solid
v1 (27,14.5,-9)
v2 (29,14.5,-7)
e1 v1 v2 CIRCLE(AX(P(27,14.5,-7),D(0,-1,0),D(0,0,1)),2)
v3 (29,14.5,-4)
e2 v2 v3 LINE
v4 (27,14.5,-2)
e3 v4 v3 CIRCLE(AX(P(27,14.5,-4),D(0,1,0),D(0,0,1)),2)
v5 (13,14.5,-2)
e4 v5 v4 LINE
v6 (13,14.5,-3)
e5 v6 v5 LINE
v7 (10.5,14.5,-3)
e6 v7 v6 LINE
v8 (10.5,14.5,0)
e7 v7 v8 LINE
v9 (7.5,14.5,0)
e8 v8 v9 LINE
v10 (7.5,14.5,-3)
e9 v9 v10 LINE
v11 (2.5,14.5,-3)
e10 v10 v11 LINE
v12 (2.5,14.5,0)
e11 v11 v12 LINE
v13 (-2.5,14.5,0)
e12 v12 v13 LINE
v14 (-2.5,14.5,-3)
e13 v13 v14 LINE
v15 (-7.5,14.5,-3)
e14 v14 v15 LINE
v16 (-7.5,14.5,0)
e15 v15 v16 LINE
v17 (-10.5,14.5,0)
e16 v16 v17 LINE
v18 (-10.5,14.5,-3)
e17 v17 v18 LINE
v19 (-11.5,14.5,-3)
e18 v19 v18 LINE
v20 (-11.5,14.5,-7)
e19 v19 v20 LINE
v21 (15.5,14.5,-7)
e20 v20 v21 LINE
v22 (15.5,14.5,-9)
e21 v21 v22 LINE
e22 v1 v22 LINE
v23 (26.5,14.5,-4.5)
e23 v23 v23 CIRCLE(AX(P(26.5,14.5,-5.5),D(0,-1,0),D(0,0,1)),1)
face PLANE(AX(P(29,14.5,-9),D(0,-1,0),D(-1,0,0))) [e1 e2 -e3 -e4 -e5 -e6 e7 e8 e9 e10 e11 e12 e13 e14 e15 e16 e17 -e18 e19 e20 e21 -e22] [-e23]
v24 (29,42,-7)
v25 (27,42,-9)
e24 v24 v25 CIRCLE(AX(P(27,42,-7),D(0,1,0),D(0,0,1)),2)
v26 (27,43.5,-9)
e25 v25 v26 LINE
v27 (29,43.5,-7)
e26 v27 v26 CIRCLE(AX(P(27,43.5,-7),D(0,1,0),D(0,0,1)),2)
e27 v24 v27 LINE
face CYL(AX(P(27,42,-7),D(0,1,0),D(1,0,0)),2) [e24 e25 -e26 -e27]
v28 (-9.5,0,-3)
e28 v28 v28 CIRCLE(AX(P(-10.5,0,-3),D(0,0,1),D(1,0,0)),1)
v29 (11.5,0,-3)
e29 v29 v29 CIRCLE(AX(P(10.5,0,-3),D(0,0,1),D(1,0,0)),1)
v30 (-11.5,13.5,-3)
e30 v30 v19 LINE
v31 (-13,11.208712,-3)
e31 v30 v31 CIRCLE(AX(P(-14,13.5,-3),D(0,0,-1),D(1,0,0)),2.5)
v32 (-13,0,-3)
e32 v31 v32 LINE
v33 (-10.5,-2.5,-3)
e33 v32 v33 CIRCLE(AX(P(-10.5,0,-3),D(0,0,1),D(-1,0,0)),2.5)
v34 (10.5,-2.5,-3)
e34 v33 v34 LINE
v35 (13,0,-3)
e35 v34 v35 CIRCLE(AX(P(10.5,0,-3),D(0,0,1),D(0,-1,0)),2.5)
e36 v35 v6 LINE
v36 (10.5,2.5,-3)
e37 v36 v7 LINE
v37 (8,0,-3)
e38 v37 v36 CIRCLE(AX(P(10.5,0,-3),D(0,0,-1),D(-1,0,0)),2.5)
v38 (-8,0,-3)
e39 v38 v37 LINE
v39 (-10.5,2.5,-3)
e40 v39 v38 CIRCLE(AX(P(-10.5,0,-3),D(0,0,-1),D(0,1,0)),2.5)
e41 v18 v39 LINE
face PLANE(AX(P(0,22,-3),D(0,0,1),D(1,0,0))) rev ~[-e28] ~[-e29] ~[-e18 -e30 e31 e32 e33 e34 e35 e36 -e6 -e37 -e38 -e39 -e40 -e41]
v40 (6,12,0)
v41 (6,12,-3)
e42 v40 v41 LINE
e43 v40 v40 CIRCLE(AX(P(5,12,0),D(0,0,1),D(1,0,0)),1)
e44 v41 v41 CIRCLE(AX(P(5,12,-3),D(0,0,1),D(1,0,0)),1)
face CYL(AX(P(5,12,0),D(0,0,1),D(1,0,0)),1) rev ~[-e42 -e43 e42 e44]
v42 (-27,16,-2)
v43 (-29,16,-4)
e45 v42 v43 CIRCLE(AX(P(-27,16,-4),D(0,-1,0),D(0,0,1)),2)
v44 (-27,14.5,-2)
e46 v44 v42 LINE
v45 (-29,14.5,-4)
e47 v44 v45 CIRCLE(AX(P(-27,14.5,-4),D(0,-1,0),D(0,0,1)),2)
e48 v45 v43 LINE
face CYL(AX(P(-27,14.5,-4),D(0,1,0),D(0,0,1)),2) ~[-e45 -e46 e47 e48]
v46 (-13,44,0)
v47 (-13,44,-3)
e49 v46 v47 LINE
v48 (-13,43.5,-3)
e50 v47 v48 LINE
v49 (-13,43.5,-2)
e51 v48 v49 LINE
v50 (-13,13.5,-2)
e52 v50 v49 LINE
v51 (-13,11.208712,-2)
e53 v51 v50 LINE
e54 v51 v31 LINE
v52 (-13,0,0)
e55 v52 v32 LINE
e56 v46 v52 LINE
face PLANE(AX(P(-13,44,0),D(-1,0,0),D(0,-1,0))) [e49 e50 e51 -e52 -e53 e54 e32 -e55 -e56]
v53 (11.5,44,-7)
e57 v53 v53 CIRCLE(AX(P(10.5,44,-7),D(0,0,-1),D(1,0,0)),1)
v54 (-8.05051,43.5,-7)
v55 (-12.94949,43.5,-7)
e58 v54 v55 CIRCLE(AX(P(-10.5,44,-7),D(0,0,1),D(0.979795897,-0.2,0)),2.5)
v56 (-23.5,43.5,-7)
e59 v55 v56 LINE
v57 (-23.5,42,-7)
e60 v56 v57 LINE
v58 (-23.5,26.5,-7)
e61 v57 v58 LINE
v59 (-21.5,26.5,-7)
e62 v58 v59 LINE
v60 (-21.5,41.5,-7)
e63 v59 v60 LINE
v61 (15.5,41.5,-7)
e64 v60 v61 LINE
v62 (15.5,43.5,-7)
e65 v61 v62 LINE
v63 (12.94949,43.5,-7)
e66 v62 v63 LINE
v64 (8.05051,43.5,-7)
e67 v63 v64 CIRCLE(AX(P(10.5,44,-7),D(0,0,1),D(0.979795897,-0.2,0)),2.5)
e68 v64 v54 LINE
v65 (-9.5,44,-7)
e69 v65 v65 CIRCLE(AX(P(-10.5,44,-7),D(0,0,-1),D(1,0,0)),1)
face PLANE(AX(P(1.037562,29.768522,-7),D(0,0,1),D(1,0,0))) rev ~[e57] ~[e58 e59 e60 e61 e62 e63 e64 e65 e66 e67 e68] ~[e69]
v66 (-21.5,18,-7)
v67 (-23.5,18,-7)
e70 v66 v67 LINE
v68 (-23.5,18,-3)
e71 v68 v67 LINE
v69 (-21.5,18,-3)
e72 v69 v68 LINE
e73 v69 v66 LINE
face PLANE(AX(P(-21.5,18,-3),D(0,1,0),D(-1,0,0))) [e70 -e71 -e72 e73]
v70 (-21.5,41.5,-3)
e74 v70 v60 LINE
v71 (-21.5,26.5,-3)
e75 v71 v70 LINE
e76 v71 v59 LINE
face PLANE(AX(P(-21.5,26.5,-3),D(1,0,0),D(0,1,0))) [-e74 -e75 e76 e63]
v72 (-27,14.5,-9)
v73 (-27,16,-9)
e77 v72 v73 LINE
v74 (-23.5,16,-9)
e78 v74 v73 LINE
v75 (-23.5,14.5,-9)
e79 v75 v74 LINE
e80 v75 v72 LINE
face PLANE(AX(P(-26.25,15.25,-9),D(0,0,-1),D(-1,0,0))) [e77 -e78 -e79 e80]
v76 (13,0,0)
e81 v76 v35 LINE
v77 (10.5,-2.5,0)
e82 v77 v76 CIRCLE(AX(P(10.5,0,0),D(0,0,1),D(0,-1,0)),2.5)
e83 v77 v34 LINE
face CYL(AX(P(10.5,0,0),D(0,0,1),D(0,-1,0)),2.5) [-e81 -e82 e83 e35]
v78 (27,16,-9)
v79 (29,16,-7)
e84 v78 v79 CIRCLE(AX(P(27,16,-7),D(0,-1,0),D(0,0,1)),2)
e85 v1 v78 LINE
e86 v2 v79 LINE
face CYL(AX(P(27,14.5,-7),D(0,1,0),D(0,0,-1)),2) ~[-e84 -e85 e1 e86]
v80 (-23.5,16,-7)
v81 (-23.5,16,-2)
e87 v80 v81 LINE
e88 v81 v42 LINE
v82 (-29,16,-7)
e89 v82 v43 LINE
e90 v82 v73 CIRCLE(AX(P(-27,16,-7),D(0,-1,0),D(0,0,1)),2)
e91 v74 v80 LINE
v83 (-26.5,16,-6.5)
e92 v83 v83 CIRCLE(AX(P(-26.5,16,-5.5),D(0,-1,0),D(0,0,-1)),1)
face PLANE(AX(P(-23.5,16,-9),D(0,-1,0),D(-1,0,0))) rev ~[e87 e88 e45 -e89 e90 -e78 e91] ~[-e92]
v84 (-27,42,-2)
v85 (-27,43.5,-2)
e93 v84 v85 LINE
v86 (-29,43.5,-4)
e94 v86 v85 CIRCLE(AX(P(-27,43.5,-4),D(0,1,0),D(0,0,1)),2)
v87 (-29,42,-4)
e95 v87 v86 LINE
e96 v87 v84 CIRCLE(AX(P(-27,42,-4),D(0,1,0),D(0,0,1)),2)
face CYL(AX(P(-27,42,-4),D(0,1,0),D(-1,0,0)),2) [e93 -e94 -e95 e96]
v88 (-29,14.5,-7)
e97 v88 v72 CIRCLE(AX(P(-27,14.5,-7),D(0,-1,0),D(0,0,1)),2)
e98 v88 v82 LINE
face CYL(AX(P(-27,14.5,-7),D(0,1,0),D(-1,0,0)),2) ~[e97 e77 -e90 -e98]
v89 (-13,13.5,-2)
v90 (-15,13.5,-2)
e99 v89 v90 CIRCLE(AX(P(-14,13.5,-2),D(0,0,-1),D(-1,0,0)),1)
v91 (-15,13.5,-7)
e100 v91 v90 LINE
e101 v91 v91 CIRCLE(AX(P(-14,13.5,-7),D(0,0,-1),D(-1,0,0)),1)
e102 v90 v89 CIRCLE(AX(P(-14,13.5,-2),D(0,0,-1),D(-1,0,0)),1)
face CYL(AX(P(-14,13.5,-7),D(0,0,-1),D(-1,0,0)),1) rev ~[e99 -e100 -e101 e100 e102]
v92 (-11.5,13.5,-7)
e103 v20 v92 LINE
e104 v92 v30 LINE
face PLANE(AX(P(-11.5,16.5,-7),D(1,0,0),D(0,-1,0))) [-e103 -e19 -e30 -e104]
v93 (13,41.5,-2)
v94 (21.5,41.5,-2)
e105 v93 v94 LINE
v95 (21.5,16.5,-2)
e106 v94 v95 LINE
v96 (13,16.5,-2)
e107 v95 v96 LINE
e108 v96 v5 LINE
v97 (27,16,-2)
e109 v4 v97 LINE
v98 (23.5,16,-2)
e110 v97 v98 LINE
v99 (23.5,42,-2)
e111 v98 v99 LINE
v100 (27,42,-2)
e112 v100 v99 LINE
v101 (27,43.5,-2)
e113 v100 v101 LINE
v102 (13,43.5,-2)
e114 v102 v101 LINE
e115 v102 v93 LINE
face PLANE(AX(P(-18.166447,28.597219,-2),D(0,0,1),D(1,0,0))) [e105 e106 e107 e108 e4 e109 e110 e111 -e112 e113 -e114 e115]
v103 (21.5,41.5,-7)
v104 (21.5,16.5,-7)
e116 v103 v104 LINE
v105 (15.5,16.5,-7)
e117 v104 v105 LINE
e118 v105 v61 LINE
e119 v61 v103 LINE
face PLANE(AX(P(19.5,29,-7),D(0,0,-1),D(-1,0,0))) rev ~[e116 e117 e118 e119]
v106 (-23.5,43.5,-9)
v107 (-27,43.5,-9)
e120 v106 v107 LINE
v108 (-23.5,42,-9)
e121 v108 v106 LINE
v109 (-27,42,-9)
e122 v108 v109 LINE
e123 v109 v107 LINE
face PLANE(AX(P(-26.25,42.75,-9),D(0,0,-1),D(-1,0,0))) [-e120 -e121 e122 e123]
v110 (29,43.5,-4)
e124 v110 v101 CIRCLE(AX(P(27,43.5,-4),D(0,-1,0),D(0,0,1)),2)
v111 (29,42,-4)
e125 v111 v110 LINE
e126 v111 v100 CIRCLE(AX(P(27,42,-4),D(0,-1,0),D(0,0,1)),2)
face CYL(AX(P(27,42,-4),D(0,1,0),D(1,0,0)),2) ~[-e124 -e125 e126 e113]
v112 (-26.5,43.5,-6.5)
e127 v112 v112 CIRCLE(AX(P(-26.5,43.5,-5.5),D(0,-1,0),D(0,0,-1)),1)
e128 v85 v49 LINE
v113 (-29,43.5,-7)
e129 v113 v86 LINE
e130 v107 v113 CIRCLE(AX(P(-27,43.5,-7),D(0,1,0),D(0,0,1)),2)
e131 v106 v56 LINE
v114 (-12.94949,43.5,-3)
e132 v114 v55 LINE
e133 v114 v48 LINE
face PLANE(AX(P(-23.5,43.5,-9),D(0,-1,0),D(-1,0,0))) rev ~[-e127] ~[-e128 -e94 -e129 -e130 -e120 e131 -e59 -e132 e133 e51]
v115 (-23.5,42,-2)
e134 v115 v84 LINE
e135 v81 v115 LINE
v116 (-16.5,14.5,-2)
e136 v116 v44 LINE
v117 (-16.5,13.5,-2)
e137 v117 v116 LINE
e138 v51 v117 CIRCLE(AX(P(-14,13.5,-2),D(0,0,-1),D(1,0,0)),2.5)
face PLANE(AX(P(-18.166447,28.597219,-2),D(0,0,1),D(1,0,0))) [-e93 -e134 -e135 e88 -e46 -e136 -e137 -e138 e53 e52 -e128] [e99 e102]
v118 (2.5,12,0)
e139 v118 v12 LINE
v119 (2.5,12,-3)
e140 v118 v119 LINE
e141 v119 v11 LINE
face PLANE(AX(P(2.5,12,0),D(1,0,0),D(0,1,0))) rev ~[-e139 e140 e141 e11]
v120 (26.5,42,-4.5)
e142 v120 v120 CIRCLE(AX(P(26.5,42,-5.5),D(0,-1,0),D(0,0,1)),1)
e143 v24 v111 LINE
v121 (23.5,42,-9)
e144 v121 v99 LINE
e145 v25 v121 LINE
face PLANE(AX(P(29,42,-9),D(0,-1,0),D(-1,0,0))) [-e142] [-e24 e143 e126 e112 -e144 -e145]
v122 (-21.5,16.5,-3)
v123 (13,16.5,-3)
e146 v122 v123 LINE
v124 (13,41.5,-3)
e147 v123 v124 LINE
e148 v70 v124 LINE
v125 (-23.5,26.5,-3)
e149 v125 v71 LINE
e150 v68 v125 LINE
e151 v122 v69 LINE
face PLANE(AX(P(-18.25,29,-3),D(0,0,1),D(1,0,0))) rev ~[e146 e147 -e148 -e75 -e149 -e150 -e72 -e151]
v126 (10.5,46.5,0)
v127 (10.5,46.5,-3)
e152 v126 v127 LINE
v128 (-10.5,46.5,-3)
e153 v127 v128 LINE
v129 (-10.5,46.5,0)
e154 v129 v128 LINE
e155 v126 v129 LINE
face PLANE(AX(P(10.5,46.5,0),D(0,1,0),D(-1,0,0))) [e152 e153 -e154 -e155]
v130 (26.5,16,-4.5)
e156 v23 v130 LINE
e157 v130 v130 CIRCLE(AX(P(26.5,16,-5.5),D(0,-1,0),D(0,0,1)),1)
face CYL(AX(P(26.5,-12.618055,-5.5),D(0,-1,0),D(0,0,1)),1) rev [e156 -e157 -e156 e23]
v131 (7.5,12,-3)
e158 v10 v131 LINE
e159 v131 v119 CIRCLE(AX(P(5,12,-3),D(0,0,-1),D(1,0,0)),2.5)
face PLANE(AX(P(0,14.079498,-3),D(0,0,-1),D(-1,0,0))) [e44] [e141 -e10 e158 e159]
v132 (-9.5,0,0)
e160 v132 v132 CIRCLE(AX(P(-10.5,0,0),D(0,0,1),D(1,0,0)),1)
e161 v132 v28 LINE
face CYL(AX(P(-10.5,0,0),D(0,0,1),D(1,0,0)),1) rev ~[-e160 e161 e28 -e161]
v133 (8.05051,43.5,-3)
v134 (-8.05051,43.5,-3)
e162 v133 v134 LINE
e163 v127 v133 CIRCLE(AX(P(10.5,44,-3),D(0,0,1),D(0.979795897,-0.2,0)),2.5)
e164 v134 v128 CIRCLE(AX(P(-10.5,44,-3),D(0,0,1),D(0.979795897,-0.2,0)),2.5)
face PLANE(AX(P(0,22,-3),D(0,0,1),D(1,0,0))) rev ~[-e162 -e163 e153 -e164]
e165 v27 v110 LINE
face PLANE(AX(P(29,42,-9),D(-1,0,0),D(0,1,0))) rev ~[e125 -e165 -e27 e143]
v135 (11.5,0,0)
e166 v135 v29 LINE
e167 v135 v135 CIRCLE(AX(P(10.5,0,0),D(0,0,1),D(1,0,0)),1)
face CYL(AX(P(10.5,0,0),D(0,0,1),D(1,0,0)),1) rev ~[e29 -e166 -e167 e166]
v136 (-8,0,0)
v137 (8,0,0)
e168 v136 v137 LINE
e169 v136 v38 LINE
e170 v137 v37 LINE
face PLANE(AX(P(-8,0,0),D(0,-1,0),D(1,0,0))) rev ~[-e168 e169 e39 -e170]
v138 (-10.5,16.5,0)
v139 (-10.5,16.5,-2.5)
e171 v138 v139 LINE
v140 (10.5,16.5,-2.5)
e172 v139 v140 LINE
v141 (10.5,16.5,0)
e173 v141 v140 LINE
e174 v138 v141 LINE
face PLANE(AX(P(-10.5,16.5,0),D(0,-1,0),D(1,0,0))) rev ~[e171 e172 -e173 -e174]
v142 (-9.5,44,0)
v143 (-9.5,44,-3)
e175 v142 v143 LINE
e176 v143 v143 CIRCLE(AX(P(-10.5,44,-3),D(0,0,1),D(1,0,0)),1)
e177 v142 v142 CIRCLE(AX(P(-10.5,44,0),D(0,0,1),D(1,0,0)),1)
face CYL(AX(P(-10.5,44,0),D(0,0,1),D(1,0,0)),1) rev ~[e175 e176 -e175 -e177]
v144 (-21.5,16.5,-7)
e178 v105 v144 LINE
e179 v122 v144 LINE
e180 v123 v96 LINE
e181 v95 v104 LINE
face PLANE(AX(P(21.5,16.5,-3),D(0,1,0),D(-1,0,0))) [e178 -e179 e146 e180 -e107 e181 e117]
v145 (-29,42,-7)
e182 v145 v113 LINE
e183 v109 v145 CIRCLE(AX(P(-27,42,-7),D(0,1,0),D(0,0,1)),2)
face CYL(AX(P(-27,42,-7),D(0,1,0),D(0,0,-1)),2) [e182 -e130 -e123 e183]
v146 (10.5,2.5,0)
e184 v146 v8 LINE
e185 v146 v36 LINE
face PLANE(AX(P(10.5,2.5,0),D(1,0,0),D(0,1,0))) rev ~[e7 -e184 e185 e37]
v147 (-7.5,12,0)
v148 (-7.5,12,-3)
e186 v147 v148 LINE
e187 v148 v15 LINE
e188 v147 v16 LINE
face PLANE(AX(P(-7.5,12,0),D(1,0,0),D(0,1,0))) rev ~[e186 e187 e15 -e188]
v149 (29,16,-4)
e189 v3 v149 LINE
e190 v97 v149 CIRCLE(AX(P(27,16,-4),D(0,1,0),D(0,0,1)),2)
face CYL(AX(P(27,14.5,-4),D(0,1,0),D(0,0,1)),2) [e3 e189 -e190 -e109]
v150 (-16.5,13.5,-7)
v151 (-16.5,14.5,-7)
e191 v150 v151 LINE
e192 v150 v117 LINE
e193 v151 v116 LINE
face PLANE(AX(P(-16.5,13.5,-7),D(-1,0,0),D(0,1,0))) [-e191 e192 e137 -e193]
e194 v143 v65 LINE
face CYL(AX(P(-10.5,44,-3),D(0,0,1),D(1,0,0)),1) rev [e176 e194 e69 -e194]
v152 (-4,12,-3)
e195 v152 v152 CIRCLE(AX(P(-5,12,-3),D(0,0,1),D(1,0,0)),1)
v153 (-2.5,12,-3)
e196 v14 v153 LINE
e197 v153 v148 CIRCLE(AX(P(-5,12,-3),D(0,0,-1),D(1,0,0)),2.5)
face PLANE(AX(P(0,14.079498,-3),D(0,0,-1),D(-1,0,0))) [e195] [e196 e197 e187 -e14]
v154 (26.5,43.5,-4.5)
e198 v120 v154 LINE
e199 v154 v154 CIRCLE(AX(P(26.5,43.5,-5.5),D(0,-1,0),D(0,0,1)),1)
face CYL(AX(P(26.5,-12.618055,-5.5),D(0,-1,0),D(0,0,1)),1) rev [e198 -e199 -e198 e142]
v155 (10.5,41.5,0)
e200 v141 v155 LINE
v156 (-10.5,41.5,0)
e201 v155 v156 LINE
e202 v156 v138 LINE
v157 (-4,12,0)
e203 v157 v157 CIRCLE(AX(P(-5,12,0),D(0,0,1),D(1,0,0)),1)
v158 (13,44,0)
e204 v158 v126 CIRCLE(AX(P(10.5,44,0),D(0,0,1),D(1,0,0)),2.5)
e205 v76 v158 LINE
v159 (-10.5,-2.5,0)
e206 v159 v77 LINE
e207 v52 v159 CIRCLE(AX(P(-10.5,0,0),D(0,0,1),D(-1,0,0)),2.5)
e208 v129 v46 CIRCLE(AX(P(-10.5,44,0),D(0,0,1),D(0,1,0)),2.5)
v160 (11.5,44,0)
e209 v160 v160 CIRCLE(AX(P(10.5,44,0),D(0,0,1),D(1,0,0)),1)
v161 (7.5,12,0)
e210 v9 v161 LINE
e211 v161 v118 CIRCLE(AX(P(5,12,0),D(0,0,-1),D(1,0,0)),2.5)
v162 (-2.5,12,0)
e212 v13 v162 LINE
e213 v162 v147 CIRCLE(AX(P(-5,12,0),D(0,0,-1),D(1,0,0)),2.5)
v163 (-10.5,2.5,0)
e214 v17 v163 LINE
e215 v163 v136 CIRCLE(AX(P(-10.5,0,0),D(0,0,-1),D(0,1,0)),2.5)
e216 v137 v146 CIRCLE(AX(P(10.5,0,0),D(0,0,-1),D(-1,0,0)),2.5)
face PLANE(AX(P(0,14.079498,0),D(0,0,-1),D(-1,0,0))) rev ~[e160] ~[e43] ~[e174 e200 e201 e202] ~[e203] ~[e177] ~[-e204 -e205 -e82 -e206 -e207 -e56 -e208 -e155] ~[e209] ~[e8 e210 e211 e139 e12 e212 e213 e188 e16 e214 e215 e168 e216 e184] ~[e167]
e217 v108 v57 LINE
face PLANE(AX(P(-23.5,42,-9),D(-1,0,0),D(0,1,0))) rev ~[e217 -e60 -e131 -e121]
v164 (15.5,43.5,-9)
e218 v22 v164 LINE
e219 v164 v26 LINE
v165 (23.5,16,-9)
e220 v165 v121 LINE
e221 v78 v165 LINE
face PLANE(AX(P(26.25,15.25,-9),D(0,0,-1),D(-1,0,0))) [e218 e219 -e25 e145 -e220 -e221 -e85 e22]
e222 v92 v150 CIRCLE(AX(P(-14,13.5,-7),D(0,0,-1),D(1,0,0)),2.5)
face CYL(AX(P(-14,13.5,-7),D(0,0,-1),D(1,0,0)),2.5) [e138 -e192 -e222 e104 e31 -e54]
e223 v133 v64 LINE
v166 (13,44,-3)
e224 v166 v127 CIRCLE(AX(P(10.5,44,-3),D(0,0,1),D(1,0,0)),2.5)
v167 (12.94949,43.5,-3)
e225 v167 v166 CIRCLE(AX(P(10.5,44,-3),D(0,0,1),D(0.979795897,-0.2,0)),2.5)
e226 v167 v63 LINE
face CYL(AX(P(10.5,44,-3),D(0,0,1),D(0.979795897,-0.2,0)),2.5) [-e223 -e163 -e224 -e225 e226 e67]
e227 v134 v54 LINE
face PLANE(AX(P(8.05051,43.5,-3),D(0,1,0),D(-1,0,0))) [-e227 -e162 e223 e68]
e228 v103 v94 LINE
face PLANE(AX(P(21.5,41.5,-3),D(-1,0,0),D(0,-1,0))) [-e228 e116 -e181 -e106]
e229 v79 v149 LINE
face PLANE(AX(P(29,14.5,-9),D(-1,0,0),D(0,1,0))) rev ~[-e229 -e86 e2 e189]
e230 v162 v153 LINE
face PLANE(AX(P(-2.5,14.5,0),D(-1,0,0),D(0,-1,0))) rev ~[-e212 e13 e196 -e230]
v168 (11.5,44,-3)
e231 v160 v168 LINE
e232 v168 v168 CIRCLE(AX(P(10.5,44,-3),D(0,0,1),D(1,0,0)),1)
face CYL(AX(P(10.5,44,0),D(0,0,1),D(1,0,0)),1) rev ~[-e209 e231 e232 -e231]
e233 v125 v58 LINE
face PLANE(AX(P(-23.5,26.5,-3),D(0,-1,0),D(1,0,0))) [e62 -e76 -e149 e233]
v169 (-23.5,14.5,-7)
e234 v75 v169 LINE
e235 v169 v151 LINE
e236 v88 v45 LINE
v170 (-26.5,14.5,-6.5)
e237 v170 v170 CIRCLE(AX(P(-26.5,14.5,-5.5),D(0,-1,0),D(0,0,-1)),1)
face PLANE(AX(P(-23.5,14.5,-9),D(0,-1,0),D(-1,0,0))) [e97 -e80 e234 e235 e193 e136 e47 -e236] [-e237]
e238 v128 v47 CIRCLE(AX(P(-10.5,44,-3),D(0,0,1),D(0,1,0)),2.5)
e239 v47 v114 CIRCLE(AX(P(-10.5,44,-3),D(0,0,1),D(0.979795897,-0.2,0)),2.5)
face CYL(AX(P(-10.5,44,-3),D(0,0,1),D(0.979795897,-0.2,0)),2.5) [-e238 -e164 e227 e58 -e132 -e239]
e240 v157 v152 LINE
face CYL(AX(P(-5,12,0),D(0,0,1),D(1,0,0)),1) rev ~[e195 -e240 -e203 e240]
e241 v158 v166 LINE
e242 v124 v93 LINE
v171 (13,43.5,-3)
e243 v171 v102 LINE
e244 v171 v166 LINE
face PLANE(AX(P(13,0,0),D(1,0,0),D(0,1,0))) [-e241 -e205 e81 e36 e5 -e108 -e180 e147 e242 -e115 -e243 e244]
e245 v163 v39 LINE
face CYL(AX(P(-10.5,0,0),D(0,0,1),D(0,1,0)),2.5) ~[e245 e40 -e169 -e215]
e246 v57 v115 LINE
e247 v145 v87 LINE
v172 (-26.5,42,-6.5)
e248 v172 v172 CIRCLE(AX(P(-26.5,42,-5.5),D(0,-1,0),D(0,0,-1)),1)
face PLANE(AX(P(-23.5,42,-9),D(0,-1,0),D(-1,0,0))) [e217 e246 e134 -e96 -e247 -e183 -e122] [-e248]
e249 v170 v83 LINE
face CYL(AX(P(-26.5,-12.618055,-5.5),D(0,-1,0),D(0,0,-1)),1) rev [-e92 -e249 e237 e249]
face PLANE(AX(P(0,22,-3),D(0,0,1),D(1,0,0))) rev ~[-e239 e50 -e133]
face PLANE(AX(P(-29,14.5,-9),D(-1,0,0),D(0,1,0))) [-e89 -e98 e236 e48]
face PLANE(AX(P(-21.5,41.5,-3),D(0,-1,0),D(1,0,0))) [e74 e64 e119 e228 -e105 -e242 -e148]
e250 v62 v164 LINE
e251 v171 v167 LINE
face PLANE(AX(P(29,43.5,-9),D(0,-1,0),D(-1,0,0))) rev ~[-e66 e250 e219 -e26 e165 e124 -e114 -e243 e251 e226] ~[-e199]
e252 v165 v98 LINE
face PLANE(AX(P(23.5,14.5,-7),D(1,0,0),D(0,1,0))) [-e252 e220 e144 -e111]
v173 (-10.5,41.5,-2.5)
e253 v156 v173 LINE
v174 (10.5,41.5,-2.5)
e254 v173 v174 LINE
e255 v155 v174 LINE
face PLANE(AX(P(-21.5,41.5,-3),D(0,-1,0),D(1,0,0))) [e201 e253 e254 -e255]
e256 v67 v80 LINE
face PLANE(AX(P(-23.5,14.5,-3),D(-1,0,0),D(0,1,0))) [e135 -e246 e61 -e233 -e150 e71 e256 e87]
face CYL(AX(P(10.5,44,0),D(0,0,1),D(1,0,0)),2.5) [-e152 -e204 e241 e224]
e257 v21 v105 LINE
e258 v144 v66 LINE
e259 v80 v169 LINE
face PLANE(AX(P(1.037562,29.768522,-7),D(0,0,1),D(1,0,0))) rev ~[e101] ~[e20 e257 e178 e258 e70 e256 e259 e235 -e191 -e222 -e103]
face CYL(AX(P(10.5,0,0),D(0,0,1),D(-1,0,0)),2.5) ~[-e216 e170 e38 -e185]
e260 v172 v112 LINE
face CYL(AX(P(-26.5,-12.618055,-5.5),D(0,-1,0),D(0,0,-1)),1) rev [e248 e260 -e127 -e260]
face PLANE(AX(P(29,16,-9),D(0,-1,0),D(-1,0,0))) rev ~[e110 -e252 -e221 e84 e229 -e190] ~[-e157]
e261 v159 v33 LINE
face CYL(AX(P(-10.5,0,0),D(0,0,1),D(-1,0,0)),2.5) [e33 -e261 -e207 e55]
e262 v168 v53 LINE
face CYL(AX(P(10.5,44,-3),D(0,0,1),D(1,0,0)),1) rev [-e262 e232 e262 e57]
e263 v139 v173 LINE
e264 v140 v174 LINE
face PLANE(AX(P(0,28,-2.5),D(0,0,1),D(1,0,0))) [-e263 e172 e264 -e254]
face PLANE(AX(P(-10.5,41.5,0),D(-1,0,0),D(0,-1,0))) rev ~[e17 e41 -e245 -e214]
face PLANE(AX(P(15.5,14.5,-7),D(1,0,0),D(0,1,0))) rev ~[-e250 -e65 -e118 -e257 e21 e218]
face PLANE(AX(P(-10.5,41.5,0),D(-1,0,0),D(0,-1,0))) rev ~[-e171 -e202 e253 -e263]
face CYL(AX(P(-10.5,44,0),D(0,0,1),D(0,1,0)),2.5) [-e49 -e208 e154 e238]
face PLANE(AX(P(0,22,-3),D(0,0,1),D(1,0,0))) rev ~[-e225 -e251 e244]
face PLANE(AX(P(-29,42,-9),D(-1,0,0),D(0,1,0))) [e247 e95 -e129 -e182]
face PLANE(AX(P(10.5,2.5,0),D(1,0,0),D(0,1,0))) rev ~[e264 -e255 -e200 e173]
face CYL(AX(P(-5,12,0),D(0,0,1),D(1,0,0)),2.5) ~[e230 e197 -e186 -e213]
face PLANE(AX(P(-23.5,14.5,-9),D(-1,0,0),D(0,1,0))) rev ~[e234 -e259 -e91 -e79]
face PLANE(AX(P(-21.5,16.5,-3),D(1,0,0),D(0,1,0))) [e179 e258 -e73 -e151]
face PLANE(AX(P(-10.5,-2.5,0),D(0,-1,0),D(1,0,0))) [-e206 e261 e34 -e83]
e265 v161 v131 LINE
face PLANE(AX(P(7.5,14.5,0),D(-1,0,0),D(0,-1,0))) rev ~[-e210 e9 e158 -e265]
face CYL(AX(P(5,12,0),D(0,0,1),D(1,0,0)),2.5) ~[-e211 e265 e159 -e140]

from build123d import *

# Parameters (mm, degrees)
SKETCH1_R                        = 1
ESP_BRACKET_DEPTH                = 3
SKETCH2_R                        = 1
LORA_HOLDER_SIDES_DEPTH          = 4
SKETCH9_W                        = 21
SKETCH9_H                        = 27
LORA_BACKING_ADD_MPU_HOLE_DEPTH  = 0.5
SKETCH4_W                        = 8
SKETCH4_H                        = 29
LORA_CONNECTOR_COVER_DEPTH       = 2
SKETCH6_W                        = 10.5
SKETCH6_H                        = 29
OTHER_SIDE_LORA_COVER_DEPTH      = 1
LORA_CLAMP_THIRD_SCREWHOLE_REACH = 54.569
SKETCH7_R                        = 1
SKETCH10_R                       = 1
BAROMETER_MOUNT_DEPTH            = 3
ALL_TABS_EXTRUDE_SIDEWAYS_REACH  = 54.872
SKETCH11_W                       = 5.5
SKETCH11_H                       = 1.5
SCREWHOLE_CUT_DEPTH              = 56.118055118
SCREWHOLE_CUT_DEPTH_BACK         = 56.118055118
SKETCH14_R                       = 1
SCREWHOLE_TAB_FILLETS_R          = 2


with BuildPart() as part:
    # Sketch1 → ESP Bracket (new body)
    with BuildSketch(Plane.XY):
        with BuildLine():
            Line((-13, 44), (-13, 0))
            ThreePointArc((-13, 0), (-12.267766953, -1.767766953), (-10.5, -2.5))
            Line((-10.5, -2.5), (10.5, -2.5))
            ThreePointArc((10.5, -2.5), (12.267766953, -1.767766953), (13, 0))
            Line((13, 0), (13, 44))
            ThreePointArc((13, 44), (12.267766953, 45.767766953), (10.5, 46.5))
            Line((10.5, 46.5), (-10.5, 46.5))
            ThreePointArc((-10.5, 46.5), (-12.267766953, 45.767766953), (-13, 44))
        make_face()
        with Locations((-10.5, 44)):
            Circle(SKETCH1_R, mode=Mode.SUBTRACT)
        with Locations((10.5, 44)):
            Circle(SKETCH1_R, mode=Mode.SUBTRACT)
        with Locations((10.5, 0)):
            Circle(SKETCH1_R, mode=Mode.SUBTRACT)
        with Locations((-10.5, 0)):
            Circle(SKETCH1_R, mode=Mode.SUBTRACT)
        with BuildLine():
            Line((-10.5, 41.5), (-10.5, 2.5))
            ThreePointArc((-10.5, 2.5), (-8.732233047, 1.767766953), (-8, 0))
            Line((-8, 0), (8, 0))
            ThreePointArc((8, 0), (8.732233047, 1.767766953), (10.5, 2.5))
            Line((10.5, 2.5), (10.5, 41.5))
            Line((10.5, 41.5), (-10.5, 41.5))
        make_face(mode=Mode.SUBTRACT)
    extrude(amount=-ESP_BRACKET_DEPTH)

    # Sketch2 → LoRa Holder Sides (add)
    with BuildSketch(Plane(origin=(0, 0, -3), x_dir=(-1, 0, 0), z_dir=(0, 0, -1))):
        with BuildLine():
            Line((-8.050510257, 43.5), (8.050510257, 43.5))
            ThreePointArc((8.050510257, 43.5), (10.5, 46.5), (12.949489743, 43.5))
            Line((12.949489743, 43.5), (23.5, 43.5))
            Line((23.5, 43.5), (23.5, 26.5))
            Line((23.5, 26.5), (21.5, 26.5))
            Line((21.5, 26.5), (21.5, 41.5))
            Line((21.5, 41.5), (-21.5, 41.5))
            Line((-21.5, 41.5), (-21.5, 16.5))
            Line((-21.5, 16.5), (21.5, 16.5))
            Line((21.5, 16.5), (21.5, 18))
            Line((21.5, 18), (23.5, 18))
            Line((23.5, 18), (23.5, 16.5))
            Line((23.5, 16.5), (23.5, 14.5))
            Line((23.5, 14.5), (-23.5, 14.5))
            Line((-23.5, 14.5), (-23.5, 43.5))
            Line((-23.5, 43.5), (-12.949489743, 43.5))
            ThreePointArc((-12.949489743, 43.5), (-10.5, 46.5), (-8.050510257, 43.5))
        make_face()
        with Locations(Location((-10.5, 44, 0), (0, 0, 180))):
            Circle(SKETCH2_R, mode=Mode.SUBTRACT)
        with Locations(Location((10.5, 44, 0), (0, 0, 180))):
            Circle(SKETCH2_R, mode=Mode.SUBTRACT)
    extrude(amount=LORA_HOLDER_SIDES_DEPTH)

    # Sketch9 → LoRa Backing (ADD MPU HOLE) (add)
    with BuildSketch(Plane.XY.offset(-3)):
        with Locations((0, 28)):
            Rectangle(SKETCH9_W, SKETCH9_H)
    extrude(amount=LORA_BACKING_ADD_MPU_HOLE_DEPTH)

    # Sketch4 → LoRa Connector Cover (add)
    with BuildSketch(Plane(origin=(0, 0, -7), x_dir=(-1, 0, 0), z_dir=(0, 0, -1))):
        with Locations((-19.5, 29)):
            Rectangle(SKETCH4_W, SKETCH4_H)
    extrude(amount=LORA_CONNECTOR_COVER_DEPTH)

    # Sketch6 → Other Side LoRa Cover (add)
    with BuildSketch(Plane.XY.offset(-3)):
        with Locations((-18.25, 29)):
            Rectangle(SKETCH6_W, SKETCH6_H)
        Polygon((13, 16.5), (13, 14.5), (23.5, 14.5), (23.5, 43.5), (13, 43.5), (13, 41.5), (21.5, 41.5), (21.5, 16.5), align=None)
    extrude(amount=OTHER_SIDE_LORA_COVER_DEPTH)

    # LoRa Clamp Third Screwhole: up to this face of the body (flat: up to its plane)
    lora_clamp_third_screwhole_end = Plane(part.part.faces().sort_by_distance((-18.25, 29, -2))[0])
    # Sketch7 → LoRa Clamp Third Screwhole (add, up to the picked face)
    with BuildSketch(Plane(origin=(0, 0, -7), x_dir=(-1, 0, 0), z_dir=(0, 0, -1)), mode=Mode.PRIVATE) as lora_clamp_third_screwhole_sk1:
        with BuildLine():
            Line((16.5, 16.5), (11.5, 16.5))
            Line((11.5, 16.5), (11.5, 13.5))
            ThreePointArc((11.5, 13.5), (14, 11), (16.5, 13.5))
            Line((16.5, 13.5), (16.5, 16.5))
        make_face()
        with Locations((14, 13.5)):
            Circle(SKETCH7_R, mode=Mode.SUBTRACT)
    lora_clamp_third_screwhole_tool1 = split(extrude(lora_clamp_third_screwhole_sk1.sketch, amount=-LORA_CLAMP_THIRD_SCREWHOLE_REACH, mode=Mode.PRIVATE), bisect_by=lora_clamp_third_screwhole_end, keep=Keep.BOTH, mode=Mode.PRIVATE)
    add(lora_clamp_third_screwhole_tool1.solids().sort_by(Axis((-14, 16.42567, -7), (0, 0, 1)))[0])

    # Sketch10 → Barometer Mount (add)
    with BuildSketch(Plane.XY):
        with BuildLine():
            Line((-10.5, 16.5), (10.5, 16.5))
            Line((10.5, 16.5), (10.5, 14.5))
            Line((10.5, 14.5), (7.5, 14.5))
            Line((7.5, 14.5), (7.5, 12))
            ThreePointArc((7.5, 12), (5, 9.5), (2.5, 12))
            Line((2.5, 12), (2.5, 14.5))
            Line((2.5, 14.5), (-2.5, 14.5))
            Line((-2.5, 14.5), (-2.5, 12))
            ThreePointArc((-2.5, 12), (-5, 9.5), (-7.5, 12))
            Line((-7.5, 12), (-7.5, 14.5))
            Line((-7.5, 14.5), (-10.5, 14.5))
            Line((-10.5, 14.5), (-10.5, 16.5))
        make_face()
        with Locations((-5, 12)):
            Circle(SKETCH10_R, mode=Mode.SUBTRACT)
        with Locations((5, 12)):
            Circle(SKETCH10_R, mode=Mode.SUBTRACT)
    extrude(amount=-BAROMETER_MOUNT_DEPTH)

    # All tabs extrude sideways: up to this face of the body (flat: up to its plane)
    all_tabs_extrude_sideways_end = Plane(part.part.faces().sort_by_distance((-18.166447268, 28.59721894, -2))[0])
    # Sketch11 → All tabs extrude sideways (add, up to the picked face)
    with BuildSketch(Plane(origin=(0, 0, -9), x_dir=(-1, 0, 0), z_dir=(0, 0, -1)), mode=Mode.PRIVATE) as all_tabs_extrude_sideways_sk1:
        with Locations((-26.25, 42.75)):
            Rectangle(SKETCH11_W, SKETCH11_H)
    all_tabs_extrude_sideways_tool1 = split(extrude(all_tabs_extrude_sideways_sk1.sketch, amount=-ALL_TABS_EXTRUDE_SIDEWAYS_REACH, mode=Mode.PRIVATE), bisect_by=all_tabs_extrude_sideways_end, keep=Keep.BOTH, mode=Mode.PRIVATE)
    # Sketch11 → All tabs extrude sideways (add, up to the picked face)
    with BuildSketch(Plane(origin=(0, 0, -9), x_dir=(-1, 0, 0), z_dir=(0, 0, -1)), mode=Mode.PRIVATE) as all_tabs_extrude_sideways_sk2:
        with Locations((-26.25, 15.25)):
            Rectangle(SKETCH11_W, SKETCH11_H)
    all_tabs_extrude_sideways_tool2 = split(extrude(all_tabs_extrude_sideways_sk2.sketch, amount=-ALL_TABS_EXTRUDE_SIDEWAYS_REACH, mode=Mode.PRIVATE), bisect_by=all_tabs_extrude_sideways_end, keep=Keep.BOTH, mode=Mode.PRIVATE)
    # Sketch11 → All tabs extrude sideways (add, up to the picked face)
    with BuildSketch(Plane(origin=(0, 0, -9), x_dir=(-1, 0, 0), z_dir=(0, 0, -1)), mode=Mode.PRIVATE) as all_tabs_extrude_sideways_sk3:
        with Locations((26.25, 15.25)):
            Rectangle(SKETCH11_W, SKETCH11_H)
    all_tabs_extrude_sideways_tool3 = split(extrude(all_tabs_extrude_sideways_sk3.sketch, amount=-ALL_TABS_EXTRUDE_SIDEWAYS_REACH, mode=Mode.PRIVATE), bisect_by=all_tabs_extrude_sideways_end, keep=Keep.BOTH, mode=Mode.PRIVATE)
    # Sketch11 → All tabs extrude sideways (add, up to the picked face)
    with BuildSketch(Plane(origin=(0, 0, -9), x_dir=(-1, 0, 0), z_dir=(0, 0, -1)), mode=Mode.PRIVATE) as all_tabs_extrude_sideways_sk4:
        with Locations((26.25, 42.75)):
            Rectangle(SKETCH11_W, SKETCH11_H)
    all_tabs_extrude_sideways_tool4 = split(extrude(all_tabs_extrude_sideways_sk4.sketch, amount=-ALL_TABS_EXTRUDE_SIDEWAYS_REACH, mode=Mode.PRIVATE), bisect_by=all_tabs_extrude_sideways_end, keep=Keep.BOTH, mode=Mode.PRIVATE)
    add(all_tabs_extrude_sideways_tool1.solids().sort_by(Axis((26.25, 42.75, -9), (0, 0, 1)))[0])
    add(all_tabs_extrude_sideways_tool2.solids().sort_by(Axis((26.25, 15.25, -9), (0, 0, 1)))[0])
    add(all_tabs_extrude_sideways_tool3.solids().sort_by(Axis((-26.25, 15.25, -9), (0, 0, 1)))[0])
    add(all_tabs_extrude_sideways_tool4.solids().sort_by(Axis((-26.25, 42.75, -9), (0, 0, 1)))[0])

    # Sketch14 → Screwhole cut (cut, two sides: drawn at the far end of the back side and taken through both)
    with BuildSketch(Plane(origin=(0, 43.5, 0), x_dir=(1, 0, 0), z_dir=(0, 1, 0)).offset(-SCREWHOLE_CUT_DEPTH_BACK)):
        with Locations(Location((-26.5, 5.5, 0), (0, 0, 90))):
            Circle(SKETCH14_R)
        with Locations(Location((26.5, 5.5, 0), (0, 0, 270))):
            Circle(SKETCH14_R)
    extrude(amount=SCREWHOLE_CUT_DEPTH + SCREWHOLE_CUT_DEPTH_BACK, mode=Mode.SUBTRACT)

    # Screwhole tab fillets
    screwhole_tab_fillets_edges = [part.edges().sort_by_distance(p)[0] for p in [
        (29, 42.75, -9),
        (29, 42.75, -2),
        (29, 15.25, -9),
        (29, 15.25, -2),
        (-29, 15.25, -9),
        (-29, 15.25, -2),
        (-29, 42.75, -9),
        (-29, 42.75, -2),
    ]]
    fillet(screwhole_tab_fillets_edges, radius=SCREWHOLE_TAB_FILLETS_R)


solid = part.part
